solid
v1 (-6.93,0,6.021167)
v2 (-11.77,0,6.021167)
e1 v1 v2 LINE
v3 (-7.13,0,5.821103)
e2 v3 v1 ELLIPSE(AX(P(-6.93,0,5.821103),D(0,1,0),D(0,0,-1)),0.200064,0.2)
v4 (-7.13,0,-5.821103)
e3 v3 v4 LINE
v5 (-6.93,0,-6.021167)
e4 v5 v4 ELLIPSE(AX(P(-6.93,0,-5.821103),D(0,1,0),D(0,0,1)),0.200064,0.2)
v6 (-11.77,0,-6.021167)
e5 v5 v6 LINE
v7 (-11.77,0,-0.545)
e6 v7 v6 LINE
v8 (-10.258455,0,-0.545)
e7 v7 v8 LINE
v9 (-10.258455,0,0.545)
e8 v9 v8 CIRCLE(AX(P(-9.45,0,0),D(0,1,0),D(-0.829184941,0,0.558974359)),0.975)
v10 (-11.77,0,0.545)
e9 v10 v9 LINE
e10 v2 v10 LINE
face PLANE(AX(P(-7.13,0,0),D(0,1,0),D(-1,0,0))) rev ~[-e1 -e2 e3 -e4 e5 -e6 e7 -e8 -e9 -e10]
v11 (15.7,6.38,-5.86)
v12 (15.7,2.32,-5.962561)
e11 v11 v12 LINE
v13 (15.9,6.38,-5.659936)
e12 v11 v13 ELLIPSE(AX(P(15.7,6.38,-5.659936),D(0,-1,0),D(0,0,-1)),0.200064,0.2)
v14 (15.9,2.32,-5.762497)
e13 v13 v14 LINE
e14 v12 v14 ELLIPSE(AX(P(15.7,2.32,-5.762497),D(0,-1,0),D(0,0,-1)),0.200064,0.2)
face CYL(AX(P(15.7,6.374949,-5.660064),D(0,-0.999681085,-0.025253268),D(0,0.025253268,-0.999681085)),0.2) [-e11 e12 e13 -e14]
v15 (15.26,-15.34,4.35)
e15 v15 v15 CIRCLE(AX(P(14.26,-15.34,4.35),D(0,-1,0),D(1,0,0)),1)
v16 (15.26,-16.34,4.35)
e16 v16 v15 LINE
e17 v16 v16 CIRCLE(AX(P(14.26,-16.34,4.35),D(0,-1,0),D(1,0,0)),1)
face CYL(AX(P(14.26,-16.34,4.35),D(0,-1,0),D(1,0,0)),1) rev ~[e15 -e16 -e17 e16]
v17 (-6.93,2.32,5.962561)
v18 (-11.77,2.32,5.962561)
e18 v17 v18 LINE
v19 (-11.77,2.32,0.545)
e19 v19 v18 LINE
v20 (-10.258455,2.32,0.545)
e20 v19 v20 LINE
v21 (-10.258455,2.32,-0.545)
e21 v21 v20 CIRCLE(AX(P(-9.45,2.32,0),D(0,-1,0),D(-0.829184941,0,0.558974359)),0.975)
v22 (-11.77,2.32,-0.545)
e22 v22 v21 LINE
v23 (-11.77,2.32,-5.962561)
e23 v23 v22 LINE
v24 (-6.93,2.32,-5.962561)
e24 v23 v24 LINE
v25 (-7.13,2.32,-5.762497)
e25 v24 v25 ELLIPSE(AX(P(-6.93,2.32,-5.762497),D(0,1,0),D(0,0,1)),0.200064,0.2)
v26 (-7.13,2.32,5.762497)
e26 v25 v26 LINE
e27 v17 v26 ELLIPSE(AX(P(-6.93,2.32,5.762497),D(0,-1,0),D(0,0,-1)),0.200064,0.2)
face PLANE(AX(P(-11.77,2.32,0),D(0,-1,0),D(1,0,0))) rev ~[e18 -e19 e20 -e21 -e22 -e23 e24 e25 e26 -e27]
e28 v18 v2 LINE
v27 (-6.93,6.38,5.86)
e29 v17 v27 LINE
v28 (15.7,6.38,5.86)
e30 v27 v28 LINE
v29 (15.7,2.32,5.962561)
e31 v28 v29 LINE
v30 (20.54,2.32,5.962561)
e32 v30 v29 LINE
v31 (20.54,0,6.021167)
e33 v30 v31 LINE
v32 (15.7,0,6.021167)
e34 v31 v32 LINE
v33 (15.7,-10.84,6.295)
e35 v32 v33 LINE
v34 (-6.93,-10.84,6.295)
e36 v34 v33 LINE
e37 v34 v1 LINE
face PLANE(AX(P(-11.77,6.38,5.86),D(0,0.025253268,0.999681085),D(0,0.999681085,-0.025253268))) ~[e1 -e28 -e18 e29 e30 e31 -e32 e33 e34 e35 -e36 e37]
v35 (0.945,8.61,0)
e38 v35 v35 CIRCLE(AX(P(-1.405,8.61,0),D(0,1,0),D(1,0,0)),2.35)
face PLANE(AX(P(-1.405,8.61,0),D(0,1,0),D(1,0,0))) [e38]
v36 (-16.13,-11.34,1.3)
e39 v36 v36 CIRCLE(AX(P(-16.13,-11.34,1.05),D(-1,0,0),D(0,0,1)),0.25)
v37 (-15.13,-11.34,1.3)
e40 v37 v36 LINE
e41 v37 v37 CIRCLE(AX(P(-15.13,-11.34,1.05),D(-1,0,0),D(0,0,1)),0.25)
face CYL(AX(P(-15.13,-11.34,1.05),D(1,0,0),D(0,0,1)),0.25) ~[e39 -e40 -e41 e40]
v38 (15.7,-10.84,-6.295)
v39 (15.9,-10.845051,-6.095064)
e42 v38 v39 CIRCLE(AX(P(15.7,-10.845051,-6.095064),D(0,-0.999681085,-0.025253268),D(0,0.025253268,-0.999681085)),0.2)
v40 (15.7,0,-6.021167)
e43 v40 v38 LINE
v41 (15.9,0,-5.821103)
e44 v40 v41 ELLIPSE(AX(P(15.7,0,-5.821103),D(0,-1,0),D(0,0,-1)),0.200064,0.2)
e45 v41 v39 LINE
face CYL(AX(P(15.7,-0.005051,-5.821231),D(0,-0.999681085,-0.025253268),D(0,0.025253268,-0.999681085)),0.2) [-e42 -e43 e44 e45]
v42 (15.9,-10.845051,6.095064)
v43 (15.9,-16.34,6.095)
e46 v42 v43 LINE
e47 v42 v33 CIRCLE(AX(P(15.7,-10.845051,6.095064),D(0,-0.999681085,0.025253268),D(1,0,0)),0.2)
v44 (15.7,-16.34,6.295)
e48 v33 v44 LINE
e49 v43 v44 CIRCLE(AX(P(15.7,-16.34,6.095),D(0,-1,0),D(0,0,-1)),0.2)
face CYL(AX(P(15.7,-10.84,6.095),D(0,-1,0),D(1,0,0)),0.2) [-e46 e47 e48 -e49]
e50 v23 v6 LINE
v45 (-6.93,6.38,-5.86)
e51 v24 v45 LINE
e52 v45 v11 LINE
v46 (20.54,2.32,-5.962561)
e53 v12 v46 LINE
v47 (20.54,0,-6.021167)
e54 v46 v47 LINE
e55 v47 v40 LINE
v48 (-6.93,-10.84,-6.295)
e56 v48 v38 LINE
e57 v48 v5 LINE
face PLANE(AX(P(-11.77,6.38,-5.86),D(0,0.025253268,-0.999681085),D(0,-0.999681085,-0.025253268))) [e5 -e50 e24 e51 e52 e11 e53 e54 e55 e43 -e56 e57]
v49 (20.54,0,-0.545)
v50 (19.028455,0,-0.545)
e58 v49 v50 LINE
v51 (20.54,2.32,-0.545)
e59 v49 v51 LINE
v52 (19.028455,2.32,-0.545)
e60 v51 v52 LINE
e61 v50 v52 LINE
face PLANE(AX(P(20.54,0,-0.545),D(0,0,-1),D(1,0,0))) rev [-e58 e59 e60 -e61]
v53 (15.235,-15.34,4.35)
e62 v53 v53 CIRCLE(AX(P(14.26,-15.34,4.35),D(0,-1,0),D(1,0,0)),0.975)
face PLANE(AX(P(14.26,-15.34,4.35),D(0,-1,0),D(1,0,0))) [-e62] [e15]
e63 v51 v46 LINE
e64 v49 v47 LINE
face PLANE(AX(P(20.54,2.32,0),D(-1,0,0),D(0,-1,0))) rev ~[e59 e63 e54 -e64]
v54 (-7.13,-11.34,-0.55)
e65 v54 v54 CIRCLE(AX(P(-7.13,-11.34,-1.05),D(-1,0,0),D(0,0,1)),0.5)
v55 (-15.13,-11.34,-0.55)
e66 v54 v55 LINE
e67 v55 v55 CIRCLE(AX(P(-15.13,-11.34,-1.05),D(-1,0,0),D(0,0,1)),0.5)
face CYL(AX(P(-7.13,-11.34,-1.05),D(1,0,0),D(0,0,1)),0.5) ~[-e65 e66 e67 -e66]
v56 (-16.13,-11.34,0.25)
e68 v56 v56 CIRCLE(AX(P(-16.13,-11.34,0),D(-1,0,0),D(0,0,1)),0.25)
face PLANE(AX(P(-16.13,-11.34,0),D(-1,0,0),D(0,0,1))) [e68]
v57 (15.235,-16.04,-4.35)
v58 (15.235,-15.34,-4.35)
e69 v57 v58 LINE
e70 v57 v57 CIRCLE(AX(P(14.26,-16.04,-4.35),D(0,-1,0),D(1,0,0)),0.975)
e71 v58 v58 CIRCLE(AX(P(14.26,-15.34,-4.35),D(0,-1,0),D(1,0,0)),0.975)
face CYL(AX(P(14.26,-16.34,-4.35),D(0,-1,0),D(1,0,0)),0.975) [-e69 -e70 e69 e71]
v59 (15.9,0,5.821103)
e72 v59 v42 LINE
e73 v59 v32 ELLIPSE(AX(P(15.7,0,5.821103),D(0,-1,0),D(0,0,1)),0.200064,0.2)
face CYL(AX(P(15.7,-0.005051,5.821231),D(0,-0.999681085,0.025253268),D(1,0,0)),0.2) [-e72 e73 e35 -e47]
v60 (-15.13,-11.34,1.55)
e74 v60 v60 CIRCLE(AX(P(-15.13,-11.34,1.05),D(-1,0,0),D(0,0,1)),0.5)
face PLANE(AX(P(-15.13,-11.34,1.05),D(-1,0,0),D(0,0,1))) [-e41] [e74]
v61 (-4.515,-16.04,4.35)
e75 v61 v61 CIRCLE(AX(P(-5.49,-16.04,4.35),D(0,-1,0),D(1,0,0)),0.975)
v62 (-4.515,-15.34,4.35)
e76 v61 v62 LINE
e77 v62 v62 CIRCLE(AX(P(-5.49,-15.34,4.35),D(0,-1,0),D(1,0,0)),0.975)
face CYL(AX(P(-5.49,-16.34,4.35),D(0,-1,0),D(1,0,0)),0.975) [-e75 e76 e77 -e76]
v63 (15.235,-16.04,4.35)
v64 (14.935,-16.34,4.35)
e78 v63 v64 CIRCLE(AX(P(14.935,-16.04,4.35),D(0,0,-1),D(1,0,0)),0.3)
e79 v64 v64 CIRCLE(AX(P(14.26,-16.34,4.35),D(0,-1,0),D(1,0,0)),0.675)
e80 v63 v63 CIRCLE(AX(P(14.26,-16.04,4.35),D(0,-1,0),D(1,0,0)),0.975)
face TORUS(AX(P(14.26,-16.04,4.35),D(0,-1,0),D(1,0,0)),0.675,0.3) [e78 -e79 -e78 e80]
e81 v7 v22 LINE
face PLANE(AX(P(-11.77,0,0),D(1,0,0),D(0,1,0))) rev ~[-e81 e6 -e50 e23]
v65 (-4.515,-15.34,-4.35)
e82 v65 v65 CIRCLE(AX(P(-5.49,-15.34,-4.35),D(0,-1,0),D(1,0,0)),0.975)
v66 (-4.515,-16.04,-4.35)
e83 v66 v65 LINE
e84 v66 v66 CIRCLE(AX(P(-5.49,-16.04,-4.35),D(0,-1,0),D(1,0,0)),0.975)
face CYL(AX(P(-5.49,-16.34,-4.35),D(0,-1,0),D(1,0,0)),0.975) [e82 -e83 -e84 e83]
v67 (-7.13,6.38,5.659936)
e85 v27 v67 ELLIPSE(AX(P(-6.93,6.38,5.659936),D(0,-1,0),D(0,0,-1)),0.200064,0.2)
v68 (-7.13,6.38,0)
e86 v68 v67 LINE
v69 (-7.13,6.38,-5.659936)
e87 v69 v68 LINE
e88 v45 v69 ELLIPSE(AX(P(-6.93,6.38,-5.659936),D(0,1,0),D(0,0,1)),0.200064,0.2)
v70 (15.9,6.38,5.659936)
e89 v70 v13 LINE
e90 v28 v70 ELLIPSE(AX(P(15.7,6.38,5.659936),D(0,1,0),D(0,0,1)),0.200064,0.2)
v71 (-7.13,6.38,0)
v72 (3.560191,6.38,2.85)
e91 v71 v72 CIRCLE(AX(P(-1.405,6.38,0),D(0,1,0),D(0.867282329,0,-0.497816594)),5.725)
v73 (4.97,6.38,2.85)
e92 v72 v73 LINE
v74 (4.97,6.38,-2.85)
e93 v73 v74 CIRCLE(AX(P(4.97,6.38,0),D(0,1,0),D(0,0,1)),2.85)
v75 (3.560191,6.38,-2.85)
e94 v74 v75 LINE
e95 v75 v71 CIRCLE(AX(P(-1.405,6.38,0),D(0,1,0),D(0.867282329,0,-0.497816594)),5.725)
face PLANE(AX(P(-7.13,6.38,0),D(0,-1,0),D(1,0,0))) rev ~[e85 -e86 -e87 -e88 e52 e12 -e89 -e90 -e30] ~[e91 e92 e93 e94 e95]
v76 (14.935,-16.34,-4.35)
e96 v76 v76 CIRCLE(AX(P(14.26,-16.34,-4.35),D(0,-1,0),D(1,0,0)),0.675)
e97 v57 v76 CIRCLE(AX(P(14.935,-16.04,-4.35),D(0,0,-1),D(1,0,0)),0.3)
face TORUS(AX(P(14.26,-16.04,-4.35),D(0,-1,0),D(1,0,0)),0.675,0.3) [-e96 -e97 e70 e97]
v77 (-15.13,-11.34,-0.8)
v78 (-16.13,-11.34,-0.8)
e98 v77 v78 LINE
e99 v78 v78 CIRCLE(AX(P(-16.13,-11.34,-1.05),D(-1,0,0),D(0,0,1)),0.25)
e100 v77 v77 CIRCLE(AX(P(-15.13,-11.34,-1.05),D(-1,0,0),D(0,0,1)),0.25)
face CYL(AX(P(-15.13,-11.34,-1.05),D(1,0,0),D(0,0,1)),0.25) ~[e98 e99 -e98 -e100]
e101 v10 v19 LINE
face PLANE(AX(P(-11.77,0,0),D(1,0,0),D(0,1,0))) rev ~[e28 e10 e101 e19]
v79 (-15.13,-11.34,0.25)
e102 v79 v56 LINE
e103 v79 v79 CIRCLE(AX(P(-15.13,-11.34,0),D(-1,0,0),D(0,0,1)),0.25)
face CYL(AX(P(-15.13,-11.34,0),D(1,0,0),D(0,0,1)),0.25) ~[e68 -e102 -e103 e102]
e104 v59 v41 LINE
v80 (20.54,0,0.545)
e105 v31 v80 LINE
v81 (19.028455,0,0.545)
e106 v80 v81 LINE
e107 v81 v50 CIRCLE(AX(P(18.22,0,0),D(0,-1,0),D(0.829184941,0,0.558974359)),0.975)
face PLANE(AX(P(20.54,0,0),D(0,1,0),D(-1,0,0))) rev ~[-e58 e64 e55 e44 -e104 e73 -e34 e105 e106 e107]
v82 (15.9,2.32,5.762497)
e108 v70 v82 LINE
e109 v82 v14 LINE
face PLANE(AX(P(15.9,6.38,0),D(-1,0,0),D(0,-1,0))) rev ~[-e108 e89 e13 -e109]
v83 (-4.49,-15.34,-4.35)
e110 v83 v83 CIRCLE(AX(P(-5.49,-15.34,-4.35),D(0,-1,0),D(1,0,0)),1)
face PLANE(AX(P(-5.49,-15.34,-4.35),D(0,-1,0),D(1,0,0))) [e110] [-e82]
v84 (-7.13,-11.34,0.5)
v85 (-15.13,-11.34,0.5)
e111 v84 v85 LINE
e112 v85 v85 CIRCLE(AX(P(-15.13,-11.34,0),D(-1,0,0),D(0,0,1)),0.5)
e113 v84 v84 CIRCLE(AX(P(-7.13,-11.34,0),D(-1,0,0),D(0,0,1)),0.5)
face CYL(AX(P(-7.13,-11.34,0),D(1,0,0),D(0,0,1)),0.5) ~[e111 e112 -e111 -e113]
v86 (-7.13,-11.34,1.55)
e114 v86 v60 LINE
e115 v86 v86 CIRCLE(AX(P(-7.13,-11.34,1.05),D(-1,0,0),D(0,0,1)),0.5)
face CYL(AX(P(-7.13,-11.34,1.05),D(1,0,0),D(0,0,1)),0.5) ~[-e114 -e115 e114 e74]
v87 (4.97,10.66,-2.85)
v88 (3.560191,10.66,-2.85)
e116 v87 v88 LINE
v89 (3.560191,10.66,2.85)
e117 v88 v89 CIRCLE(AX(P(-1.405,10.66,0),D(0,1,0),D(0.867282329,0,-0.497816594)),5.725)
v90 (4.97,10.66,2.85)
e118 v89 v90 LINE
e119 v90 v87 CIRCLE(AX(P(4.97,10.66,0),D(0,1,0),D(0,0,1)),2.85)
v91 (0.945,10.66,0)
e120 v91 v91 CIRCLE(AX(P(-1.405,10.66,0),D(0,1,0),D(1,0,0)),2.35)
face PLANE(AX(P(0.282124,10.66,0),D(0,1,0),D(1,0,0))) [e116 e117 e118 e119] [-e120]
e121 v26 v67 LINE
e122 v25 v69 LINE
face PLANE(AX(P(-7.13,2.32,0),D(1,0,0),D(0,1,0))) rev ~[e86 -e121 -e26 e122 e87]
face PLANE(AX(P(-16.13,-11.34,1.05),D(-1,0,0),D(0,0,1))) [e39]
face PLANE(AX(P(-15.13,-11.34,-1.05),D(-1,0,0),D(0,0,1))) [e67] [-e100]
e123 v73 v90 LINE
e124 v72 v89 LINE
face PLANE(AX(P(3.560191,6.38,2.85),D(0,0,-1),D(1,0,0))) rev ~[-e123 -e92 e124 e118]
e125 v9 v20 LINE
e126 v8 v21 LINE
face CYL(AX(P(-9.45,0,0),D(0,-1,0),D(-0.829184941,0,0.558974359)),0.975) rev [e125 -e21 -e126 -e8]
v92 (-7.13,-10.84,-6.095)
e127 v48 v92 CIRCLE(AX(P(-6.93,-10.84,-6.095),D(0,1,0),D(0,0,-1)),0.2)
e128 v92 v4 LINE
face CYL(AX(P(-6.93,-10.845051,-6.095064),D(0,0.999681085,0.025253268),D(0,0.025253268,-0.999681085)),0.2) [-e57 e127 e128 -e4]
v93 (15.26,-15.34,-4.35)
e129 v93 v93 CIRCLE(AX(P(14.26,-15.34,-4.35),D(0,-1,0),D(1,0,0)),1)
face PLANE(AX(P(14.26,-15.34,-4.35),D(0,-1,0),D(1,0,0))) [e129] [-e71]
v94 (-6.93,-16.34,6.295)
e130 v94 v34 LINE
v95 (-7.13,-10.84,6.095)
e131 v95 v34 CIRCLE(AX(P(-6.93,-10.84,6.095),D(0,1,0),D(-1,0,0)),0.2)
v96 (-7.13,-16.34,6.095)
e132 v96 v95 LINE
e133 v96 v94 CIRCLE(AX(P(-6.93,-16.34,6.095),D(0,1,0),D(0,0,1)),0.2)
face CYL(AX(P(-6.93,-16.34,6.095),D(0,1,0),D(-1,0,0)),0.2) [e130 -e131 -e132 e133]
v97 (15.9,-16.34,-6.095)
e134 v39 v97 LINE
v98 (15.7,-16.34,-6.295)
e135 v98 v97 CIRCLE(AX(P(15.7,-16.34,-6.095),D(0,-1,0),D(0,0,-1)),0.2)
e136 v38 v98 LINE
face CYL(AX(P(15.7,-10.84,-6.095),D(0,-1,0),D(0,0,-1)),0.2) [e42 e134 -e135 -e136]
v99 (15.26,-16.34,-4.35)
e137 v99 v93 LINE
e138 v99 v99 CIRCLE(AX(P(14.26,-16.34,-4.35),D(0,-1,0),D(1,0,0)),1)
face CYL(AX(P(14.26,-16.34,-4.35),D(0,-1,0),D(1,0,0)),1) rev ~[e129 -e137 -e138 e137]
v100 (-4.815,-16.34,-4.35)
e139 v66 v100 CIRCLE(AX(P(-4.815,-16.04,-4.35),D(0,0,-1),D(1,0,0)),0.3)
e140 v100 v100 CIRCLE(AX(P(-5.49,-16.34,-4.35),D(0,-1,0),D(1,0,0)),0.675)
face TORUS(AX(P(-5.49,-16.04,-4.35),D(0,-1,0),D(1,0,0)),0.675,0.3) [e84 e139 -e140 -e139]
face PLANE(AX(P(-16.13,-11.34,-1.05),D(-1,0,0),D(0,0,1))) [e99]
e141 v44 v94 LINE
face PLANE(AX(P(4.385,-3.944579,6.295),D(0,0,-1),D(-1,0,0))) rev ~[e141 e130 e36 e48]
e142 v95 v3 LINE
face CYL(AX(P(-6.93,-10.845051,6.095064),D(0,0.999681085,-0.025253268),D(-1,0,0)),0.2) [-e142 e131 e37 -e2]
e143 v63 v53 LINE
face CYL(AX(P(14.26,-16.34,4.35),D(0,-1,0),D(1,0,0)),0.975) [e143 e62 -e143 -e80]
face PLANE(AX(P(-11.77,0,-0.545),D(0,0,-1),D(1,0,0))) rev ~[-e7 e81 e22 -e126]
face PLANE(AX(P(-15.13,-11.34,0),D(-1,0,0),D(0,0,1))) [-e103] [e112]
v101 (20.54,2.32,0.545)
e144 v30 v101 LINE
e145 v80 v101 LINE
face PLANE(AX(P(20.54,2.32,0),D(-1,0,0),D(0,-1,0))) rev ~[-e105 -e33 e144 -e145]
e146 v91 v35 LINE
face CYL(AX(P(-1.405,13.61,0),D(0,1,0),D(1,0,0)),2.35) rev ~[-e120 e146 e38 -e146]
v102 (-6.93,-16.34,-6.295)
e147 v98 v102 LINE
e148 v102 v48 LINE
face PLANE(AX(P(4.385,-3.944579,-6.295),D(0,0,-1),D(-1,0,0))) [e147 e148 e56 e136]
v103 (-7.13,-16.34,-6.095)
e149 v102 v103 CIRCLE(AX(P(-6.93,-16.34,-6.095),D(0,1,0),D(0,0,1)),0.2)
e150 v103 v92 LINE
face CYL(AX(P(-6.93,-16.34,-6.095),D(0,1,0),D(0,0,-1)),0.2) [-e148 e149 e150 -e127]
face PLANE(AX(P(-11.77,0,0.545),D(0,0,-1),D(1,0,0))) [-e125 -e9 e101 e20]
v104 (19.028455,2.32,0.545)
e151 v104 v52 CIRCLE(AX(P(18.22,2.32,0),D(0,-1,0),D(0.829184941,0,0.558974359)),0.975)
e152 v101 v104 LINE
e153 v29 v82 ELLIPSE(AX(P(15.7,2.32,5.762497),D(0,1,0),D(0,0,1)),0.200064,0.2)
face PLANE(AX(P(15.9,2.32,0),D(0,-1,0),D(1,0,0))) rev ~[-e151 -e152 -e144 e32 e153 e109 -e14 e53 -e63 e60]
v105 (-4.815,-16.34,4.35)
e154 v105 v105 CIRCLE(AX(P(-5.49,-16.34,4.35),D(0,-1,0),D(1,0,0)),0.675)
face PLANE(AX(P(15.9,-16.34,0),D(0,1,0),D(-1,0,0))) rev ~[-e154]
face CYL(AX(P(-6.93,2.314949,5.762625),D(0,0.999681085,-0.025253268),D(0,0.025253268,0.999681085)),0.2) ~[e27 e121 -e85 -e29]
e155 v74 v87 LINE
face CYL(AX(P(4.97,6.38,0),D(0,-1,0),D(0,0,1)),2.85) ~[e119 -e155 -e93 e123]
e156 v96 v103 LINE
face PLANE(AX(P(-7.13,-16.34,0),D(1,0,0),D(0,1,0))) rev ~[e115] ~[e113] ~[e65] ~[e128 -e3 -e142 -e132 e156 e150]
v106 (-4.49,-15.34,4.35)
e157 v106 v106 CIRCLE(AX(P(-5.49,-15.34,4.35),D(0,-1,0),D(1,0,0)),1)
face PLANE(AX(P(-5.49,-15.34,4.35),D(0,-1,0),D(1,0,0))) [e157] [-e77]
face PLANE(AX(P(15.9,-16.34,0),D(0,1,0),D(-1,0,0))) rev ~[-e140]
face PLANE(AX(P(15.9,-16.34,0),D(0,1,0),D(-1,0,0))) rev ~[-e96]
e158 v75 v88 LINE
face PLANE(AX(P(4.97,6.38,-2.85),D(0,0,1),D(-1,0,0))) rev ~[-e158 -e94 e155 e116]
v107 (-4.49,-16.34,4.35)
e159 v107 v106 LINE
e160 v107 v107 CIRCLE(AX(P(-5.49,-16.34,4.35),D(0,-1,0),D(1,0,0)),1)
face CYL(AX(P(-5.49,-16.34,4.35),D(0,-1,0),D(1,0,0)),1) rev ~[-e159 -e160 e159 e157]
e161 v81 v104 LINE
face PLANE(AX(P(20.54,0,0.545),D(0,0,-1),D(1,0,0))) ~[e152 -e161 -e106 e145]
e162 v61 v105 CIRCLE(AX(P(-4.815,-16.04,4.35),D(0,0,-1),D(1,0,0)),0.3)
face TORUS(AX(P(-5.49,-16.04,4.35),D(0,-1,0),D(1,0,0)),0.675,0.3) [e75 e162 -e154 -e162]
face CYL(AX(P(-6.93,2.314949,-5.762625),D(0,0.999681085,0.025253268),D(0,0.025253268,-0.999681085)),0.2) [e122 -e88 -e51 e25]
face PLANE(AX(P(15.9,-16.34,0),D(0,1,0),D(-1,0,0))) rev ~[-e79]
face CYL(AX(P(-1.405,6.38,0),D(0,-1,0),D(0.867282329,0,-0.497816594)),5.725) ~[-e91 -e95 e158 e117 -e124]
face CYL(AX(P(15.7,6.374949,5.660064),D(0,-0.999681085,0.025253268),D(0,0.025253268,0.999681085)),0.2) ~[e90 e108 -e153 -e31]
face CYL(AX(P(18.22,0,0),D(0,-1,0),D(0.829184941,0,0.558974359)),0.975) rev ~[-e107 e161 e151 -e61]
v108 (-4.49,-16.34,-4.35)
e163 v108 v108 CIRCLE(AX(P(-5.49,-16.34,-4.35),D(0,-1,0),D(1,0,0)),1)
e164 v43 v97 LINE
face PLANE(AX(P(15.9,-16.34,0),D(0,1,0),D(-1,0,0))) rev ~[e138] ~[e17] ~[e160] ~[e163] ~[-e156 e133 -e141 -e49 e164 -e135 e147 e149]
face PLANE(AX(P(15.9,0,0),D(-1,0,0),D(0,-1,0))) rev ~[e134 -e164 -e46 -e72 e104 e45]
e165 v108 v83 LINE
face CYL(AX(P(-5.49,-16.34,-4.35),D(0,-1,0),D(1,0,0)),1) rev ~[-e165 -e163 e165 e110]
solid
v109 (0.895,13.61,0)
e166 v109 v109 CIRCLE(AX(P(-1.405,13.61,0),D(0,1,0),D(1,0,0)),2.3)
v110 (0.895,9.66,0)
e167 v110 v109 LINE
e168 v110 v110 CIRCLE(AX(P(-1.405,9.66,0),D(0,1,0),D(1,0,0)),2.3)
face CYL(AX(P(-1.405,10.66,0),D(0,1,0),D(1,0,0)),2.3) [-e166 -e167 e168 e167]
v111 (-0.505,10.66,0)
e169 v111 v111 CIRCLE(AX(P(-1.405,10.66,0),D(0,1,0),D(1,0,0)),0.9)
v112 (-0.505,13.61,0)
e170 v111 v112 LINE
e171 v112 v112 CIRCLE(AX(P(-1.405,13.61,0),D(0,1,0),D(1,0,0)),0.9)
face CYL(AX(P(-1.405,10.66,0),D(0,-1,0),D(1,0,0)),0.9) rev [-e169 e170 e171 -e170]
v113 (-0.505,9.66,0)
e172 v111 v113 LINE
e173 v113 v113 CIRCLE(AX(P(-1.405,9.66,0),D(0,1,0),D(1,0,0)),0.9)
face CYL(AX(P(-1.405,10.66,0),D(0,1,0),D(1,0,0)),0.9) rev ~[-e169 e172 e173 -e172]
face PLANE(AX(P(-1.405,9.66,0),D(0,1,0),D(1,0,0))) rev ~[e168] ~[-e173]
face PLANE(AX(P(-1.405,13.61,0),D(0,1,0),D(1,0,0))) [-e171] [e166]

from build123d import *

# Parameters (mm, degrees)
BOSS_EXTRUDE1_DEPTH      = 6.295
BOSS_EXTRUDE2_DEPTH      = 4.28
CUT_EXTRUDE4_DEPTH       = 33.31
SKETCH4_R                = 0.975
SKETCH4_W                = 1.511544683
SKETCH4_H                = 1.09
CUT_EXTRUDE1_DEPTH       = 11.66
SKETCH5_R                = 1
SKETCH5_R_2              = 0.975
CUT_EXTRUDE2_DEPTH       = 1
SKETCH6_R                = 0.5
BOSS_EXTRUDE4_DEPTH      = 8
SKETCH7_R                = 0.25
BOSS_EXTRUDE5_DEPTH      = 1
FILLET1_R                = 0.3
FILLET3_R                = 0.2
SKETCH12_R               = 2.3
SKETCH12_R_2             = 0.9
BOSS_EXTRUDE6_DEPTH      = 2.95
BOSS_EXTRUDE6_DEPTH_BACK = 1
SKETCH13_R               = 2.35
CUT_EXTRUDE5_DEPTH       = 5


with BuildPart() as part:
    # Sketch1 → Boss-Extrude1 (new body, symmetric)
    with BuildSketch(Plane.XY):
        Polygon((-7.13, 6.38), (15.9, 6.38), (15.9, 2.32), (20.54, 2.32), (20.54, 0), (15.9, 0), (15.9, -16.34), (-7.13, -16.34), (-7.13, 0), (-11.77, 0), (-11.77, 2.32), (-7.13, 2.32), align=None)
    extrude(amount=BOSS_EXTRUDE1_DEPTH, both=True)

    # Sketch2 → Boss-Extrude2 (add)
    with BuildSketch(Plane(origin=(0, 6.38, 0), x_dir=(1, 0, 0), z_dir=(0, 1, 0))):
        with BuildLine():
            Line((3.560191336, -2.85), (4.97, -2.85))
            ThreePointArc((4.97, -2.85), (7.82, 0), (4.97, 2.85))
            Line((4.97, 2.85), (3.560191336, 2.85))
            ThreePointArc((3.560191336, 2.85), (-7.13, 0), (3.560191336, -2.85))
        make_face()
    extrude(amount=BOSS_EXTRUDE2_DEPTH)

    # Sketch11 → Cut-Extrude4 (cut, through all)
    with BuildSketch(Plane.ZY.offset(11.77)):
        Polygon((-5.86, 6.38), (-6.295, -10.84), (-6.295, 6.38), align=None)
    cut_extrude4 = extrude(amount=-CUT_EXTRUDE4_DEPTH, mode=Mode.SUBTRACT)

    # Mirror1: Cut-Extrude4 across plane
    add(cut_extrude4.mirror(Plane.XY), mode=Mode.SUBTRACT)

    # Sketch4 → Cut-Extrude1 (cut, through all)
    with BuildSketch(Plane(origin=(0, 0, 0), x_dir=(1, 0, 0), z_dir=(0, 1, 0))):
        with Locations((-9.45, 0)):
            Circle(SKETCH4_R)
        with Locations((-11.014227659, 0)):
            Rectangle(SKETCH4_W, SKETCH4_H)
    cut_extrude1 = extrude(amount=CUT_EXTRUDE1_DEPTH, mode=Mode.SUBTRACT)

    # Mirror2: Cut-Extrude1 across plane
    add(cut_extrude1.mirror(Plane(origin=(4.385, -10.84, 6.295), x_dir=(0, 0, 1), z_dir=(-1, 0, 0))), mode=Mode.SUBTRACT)

    # Sketch5 → Cut-Extrude2 (cut)
    with BuildSketch(Plane.XZ.offset(16.34)):
        with Locations((-5.49, 4.35)):
            Circle(SKETCH5_R)
        with Locations((-5.49, 4.35)):
            Circle(SKETCH5_R_2, mode=Mode.SUBTRACT)
        with Locations((-5.49, -4.35)):
            Circle(SKETCH5_R)
        with Locations((-5.49, -4.35)):
            Circle(SKETCH5_R_2, mode=Mode.SUBTRACT)
        with Locations((14.26, -4.35)):
            Circle(SKETCH5_R)
        with Locations((14.26, -4.35)):
            Circle(SKETCH5_R_2, mode=Mode.SUBTRACT)
        with Locations((14.26, 4.35)):
            Circle(SKETCH5_R)
        with Locations((14.26, 4.35)):
            Circle(SKETCH5_R_2, mode=Mode.SUBTRACT)
    extrude(amount=-CUT_EXTRUDE2_DEPTH, mode=Mode.SUBTRACT)

    # Sketch6 → Boss-Extrude4 (add)
    with BuildSketch(Plane.ZY.offset(7.13)):
        with Locations((0, -11.34)):
            Circle(SKETCH6_R)
        with Locations((1.05, -11.34)):
            Circle(SKETCH6_R)
        with Locations((-1.05, -11.34)):
            Circle(SKETCH6_R)
    extrude(amount=BOSS_EXTRUDE4_DEPTH)

    # Sketch7 → Boss-Extrude5 (add)
    with BuildSketch(Plane.ZY.offset(15.13)):
        with Locations((0, -11.34)):
            Circle(SKETCH7_R)
        with Locations((1.05, -11.34)):
            Circle(SKETCH7_R)
        with Locations((-1.05, -11.34)):
            Circle(SKETCH7_R)
    extrude(amount=BOSS_EXTRUDE5_DEPTH)

    # Fillet1
    fillet1_edges = [part.edges().sort_by_distance(p)[0] for p in [
        (-6.465, -16.34, 4.35),
        (-6.465, -16.34, -4.35),
        (13.285, -16.34, -4.35),
        (13.285, -16.34, 4.35),
    ]]
    fillet(fillet1_edges, radius=FILLET1_R)

    # Fillet3
    fillet3_edges = [part.edges().sort_by_distance(p)[0] for p in [
        (15.9, -13.59, -6.295),
        (15.9, -13.59, 6.295),
        (-7.13, -13.59, -6.295),
        (-7.13, 4.35, -5.911280488),
        (-7.13, -5.42, -6.158083624),
        (15.9, -5.42, -6.158083624),
        (15.9, 4.35, -5.911280488),
        (-7.13, -13.59, 6.295),
        (-7.13, 4.35, 5.911280488),
        (-7.13, -5.42, 6.158083624),
        (15.9, -5.42, 6.158083624),
        (15.9, 4.35, 5.911280488),
    ]]
    fillet(fillet3_edges, radius=FILLET3_R)

    # Sketch13 → Cut-Extrude5 (cut)
    with BuildSketch(Plane(origin=(0, 13.61, 0), x_dir=(1, 0, 0), z_dir=(0, 1, 0))):
        with Locations((-1.405, 0)):
            Circle(SKETCH13_R)
    extrude(amount=-CUT_EXTRUDE5_DEPTH, mode=Mode.SUBTRACT)


with BuildPart() as body_2:
    # Sketch12 → Boss-Extrude6 (new body, two sides)
    with BuildSketch(Plane(origin=(0, 10.66, 0), x_dir=(1, 0, 0), z_dir=(0, 1, 0))) as boss_extrude6_sk:
        with Locations((-1.405, 0)):
            Circle(SKETCH12_R)
        with Locations((-1.405, 0)):
            Circle(SKETCH12_R_2, mode=Mode.SUBTRACT)
    extrude(amount=BOSS_EXTRUDE6_DEPTH)
    extrude(boss_extrude6_sk.sketch, amount=-BOSS_EXTRUDE6_DEPTH_BACK)


solid = Compound([part.part, body_2.part])
